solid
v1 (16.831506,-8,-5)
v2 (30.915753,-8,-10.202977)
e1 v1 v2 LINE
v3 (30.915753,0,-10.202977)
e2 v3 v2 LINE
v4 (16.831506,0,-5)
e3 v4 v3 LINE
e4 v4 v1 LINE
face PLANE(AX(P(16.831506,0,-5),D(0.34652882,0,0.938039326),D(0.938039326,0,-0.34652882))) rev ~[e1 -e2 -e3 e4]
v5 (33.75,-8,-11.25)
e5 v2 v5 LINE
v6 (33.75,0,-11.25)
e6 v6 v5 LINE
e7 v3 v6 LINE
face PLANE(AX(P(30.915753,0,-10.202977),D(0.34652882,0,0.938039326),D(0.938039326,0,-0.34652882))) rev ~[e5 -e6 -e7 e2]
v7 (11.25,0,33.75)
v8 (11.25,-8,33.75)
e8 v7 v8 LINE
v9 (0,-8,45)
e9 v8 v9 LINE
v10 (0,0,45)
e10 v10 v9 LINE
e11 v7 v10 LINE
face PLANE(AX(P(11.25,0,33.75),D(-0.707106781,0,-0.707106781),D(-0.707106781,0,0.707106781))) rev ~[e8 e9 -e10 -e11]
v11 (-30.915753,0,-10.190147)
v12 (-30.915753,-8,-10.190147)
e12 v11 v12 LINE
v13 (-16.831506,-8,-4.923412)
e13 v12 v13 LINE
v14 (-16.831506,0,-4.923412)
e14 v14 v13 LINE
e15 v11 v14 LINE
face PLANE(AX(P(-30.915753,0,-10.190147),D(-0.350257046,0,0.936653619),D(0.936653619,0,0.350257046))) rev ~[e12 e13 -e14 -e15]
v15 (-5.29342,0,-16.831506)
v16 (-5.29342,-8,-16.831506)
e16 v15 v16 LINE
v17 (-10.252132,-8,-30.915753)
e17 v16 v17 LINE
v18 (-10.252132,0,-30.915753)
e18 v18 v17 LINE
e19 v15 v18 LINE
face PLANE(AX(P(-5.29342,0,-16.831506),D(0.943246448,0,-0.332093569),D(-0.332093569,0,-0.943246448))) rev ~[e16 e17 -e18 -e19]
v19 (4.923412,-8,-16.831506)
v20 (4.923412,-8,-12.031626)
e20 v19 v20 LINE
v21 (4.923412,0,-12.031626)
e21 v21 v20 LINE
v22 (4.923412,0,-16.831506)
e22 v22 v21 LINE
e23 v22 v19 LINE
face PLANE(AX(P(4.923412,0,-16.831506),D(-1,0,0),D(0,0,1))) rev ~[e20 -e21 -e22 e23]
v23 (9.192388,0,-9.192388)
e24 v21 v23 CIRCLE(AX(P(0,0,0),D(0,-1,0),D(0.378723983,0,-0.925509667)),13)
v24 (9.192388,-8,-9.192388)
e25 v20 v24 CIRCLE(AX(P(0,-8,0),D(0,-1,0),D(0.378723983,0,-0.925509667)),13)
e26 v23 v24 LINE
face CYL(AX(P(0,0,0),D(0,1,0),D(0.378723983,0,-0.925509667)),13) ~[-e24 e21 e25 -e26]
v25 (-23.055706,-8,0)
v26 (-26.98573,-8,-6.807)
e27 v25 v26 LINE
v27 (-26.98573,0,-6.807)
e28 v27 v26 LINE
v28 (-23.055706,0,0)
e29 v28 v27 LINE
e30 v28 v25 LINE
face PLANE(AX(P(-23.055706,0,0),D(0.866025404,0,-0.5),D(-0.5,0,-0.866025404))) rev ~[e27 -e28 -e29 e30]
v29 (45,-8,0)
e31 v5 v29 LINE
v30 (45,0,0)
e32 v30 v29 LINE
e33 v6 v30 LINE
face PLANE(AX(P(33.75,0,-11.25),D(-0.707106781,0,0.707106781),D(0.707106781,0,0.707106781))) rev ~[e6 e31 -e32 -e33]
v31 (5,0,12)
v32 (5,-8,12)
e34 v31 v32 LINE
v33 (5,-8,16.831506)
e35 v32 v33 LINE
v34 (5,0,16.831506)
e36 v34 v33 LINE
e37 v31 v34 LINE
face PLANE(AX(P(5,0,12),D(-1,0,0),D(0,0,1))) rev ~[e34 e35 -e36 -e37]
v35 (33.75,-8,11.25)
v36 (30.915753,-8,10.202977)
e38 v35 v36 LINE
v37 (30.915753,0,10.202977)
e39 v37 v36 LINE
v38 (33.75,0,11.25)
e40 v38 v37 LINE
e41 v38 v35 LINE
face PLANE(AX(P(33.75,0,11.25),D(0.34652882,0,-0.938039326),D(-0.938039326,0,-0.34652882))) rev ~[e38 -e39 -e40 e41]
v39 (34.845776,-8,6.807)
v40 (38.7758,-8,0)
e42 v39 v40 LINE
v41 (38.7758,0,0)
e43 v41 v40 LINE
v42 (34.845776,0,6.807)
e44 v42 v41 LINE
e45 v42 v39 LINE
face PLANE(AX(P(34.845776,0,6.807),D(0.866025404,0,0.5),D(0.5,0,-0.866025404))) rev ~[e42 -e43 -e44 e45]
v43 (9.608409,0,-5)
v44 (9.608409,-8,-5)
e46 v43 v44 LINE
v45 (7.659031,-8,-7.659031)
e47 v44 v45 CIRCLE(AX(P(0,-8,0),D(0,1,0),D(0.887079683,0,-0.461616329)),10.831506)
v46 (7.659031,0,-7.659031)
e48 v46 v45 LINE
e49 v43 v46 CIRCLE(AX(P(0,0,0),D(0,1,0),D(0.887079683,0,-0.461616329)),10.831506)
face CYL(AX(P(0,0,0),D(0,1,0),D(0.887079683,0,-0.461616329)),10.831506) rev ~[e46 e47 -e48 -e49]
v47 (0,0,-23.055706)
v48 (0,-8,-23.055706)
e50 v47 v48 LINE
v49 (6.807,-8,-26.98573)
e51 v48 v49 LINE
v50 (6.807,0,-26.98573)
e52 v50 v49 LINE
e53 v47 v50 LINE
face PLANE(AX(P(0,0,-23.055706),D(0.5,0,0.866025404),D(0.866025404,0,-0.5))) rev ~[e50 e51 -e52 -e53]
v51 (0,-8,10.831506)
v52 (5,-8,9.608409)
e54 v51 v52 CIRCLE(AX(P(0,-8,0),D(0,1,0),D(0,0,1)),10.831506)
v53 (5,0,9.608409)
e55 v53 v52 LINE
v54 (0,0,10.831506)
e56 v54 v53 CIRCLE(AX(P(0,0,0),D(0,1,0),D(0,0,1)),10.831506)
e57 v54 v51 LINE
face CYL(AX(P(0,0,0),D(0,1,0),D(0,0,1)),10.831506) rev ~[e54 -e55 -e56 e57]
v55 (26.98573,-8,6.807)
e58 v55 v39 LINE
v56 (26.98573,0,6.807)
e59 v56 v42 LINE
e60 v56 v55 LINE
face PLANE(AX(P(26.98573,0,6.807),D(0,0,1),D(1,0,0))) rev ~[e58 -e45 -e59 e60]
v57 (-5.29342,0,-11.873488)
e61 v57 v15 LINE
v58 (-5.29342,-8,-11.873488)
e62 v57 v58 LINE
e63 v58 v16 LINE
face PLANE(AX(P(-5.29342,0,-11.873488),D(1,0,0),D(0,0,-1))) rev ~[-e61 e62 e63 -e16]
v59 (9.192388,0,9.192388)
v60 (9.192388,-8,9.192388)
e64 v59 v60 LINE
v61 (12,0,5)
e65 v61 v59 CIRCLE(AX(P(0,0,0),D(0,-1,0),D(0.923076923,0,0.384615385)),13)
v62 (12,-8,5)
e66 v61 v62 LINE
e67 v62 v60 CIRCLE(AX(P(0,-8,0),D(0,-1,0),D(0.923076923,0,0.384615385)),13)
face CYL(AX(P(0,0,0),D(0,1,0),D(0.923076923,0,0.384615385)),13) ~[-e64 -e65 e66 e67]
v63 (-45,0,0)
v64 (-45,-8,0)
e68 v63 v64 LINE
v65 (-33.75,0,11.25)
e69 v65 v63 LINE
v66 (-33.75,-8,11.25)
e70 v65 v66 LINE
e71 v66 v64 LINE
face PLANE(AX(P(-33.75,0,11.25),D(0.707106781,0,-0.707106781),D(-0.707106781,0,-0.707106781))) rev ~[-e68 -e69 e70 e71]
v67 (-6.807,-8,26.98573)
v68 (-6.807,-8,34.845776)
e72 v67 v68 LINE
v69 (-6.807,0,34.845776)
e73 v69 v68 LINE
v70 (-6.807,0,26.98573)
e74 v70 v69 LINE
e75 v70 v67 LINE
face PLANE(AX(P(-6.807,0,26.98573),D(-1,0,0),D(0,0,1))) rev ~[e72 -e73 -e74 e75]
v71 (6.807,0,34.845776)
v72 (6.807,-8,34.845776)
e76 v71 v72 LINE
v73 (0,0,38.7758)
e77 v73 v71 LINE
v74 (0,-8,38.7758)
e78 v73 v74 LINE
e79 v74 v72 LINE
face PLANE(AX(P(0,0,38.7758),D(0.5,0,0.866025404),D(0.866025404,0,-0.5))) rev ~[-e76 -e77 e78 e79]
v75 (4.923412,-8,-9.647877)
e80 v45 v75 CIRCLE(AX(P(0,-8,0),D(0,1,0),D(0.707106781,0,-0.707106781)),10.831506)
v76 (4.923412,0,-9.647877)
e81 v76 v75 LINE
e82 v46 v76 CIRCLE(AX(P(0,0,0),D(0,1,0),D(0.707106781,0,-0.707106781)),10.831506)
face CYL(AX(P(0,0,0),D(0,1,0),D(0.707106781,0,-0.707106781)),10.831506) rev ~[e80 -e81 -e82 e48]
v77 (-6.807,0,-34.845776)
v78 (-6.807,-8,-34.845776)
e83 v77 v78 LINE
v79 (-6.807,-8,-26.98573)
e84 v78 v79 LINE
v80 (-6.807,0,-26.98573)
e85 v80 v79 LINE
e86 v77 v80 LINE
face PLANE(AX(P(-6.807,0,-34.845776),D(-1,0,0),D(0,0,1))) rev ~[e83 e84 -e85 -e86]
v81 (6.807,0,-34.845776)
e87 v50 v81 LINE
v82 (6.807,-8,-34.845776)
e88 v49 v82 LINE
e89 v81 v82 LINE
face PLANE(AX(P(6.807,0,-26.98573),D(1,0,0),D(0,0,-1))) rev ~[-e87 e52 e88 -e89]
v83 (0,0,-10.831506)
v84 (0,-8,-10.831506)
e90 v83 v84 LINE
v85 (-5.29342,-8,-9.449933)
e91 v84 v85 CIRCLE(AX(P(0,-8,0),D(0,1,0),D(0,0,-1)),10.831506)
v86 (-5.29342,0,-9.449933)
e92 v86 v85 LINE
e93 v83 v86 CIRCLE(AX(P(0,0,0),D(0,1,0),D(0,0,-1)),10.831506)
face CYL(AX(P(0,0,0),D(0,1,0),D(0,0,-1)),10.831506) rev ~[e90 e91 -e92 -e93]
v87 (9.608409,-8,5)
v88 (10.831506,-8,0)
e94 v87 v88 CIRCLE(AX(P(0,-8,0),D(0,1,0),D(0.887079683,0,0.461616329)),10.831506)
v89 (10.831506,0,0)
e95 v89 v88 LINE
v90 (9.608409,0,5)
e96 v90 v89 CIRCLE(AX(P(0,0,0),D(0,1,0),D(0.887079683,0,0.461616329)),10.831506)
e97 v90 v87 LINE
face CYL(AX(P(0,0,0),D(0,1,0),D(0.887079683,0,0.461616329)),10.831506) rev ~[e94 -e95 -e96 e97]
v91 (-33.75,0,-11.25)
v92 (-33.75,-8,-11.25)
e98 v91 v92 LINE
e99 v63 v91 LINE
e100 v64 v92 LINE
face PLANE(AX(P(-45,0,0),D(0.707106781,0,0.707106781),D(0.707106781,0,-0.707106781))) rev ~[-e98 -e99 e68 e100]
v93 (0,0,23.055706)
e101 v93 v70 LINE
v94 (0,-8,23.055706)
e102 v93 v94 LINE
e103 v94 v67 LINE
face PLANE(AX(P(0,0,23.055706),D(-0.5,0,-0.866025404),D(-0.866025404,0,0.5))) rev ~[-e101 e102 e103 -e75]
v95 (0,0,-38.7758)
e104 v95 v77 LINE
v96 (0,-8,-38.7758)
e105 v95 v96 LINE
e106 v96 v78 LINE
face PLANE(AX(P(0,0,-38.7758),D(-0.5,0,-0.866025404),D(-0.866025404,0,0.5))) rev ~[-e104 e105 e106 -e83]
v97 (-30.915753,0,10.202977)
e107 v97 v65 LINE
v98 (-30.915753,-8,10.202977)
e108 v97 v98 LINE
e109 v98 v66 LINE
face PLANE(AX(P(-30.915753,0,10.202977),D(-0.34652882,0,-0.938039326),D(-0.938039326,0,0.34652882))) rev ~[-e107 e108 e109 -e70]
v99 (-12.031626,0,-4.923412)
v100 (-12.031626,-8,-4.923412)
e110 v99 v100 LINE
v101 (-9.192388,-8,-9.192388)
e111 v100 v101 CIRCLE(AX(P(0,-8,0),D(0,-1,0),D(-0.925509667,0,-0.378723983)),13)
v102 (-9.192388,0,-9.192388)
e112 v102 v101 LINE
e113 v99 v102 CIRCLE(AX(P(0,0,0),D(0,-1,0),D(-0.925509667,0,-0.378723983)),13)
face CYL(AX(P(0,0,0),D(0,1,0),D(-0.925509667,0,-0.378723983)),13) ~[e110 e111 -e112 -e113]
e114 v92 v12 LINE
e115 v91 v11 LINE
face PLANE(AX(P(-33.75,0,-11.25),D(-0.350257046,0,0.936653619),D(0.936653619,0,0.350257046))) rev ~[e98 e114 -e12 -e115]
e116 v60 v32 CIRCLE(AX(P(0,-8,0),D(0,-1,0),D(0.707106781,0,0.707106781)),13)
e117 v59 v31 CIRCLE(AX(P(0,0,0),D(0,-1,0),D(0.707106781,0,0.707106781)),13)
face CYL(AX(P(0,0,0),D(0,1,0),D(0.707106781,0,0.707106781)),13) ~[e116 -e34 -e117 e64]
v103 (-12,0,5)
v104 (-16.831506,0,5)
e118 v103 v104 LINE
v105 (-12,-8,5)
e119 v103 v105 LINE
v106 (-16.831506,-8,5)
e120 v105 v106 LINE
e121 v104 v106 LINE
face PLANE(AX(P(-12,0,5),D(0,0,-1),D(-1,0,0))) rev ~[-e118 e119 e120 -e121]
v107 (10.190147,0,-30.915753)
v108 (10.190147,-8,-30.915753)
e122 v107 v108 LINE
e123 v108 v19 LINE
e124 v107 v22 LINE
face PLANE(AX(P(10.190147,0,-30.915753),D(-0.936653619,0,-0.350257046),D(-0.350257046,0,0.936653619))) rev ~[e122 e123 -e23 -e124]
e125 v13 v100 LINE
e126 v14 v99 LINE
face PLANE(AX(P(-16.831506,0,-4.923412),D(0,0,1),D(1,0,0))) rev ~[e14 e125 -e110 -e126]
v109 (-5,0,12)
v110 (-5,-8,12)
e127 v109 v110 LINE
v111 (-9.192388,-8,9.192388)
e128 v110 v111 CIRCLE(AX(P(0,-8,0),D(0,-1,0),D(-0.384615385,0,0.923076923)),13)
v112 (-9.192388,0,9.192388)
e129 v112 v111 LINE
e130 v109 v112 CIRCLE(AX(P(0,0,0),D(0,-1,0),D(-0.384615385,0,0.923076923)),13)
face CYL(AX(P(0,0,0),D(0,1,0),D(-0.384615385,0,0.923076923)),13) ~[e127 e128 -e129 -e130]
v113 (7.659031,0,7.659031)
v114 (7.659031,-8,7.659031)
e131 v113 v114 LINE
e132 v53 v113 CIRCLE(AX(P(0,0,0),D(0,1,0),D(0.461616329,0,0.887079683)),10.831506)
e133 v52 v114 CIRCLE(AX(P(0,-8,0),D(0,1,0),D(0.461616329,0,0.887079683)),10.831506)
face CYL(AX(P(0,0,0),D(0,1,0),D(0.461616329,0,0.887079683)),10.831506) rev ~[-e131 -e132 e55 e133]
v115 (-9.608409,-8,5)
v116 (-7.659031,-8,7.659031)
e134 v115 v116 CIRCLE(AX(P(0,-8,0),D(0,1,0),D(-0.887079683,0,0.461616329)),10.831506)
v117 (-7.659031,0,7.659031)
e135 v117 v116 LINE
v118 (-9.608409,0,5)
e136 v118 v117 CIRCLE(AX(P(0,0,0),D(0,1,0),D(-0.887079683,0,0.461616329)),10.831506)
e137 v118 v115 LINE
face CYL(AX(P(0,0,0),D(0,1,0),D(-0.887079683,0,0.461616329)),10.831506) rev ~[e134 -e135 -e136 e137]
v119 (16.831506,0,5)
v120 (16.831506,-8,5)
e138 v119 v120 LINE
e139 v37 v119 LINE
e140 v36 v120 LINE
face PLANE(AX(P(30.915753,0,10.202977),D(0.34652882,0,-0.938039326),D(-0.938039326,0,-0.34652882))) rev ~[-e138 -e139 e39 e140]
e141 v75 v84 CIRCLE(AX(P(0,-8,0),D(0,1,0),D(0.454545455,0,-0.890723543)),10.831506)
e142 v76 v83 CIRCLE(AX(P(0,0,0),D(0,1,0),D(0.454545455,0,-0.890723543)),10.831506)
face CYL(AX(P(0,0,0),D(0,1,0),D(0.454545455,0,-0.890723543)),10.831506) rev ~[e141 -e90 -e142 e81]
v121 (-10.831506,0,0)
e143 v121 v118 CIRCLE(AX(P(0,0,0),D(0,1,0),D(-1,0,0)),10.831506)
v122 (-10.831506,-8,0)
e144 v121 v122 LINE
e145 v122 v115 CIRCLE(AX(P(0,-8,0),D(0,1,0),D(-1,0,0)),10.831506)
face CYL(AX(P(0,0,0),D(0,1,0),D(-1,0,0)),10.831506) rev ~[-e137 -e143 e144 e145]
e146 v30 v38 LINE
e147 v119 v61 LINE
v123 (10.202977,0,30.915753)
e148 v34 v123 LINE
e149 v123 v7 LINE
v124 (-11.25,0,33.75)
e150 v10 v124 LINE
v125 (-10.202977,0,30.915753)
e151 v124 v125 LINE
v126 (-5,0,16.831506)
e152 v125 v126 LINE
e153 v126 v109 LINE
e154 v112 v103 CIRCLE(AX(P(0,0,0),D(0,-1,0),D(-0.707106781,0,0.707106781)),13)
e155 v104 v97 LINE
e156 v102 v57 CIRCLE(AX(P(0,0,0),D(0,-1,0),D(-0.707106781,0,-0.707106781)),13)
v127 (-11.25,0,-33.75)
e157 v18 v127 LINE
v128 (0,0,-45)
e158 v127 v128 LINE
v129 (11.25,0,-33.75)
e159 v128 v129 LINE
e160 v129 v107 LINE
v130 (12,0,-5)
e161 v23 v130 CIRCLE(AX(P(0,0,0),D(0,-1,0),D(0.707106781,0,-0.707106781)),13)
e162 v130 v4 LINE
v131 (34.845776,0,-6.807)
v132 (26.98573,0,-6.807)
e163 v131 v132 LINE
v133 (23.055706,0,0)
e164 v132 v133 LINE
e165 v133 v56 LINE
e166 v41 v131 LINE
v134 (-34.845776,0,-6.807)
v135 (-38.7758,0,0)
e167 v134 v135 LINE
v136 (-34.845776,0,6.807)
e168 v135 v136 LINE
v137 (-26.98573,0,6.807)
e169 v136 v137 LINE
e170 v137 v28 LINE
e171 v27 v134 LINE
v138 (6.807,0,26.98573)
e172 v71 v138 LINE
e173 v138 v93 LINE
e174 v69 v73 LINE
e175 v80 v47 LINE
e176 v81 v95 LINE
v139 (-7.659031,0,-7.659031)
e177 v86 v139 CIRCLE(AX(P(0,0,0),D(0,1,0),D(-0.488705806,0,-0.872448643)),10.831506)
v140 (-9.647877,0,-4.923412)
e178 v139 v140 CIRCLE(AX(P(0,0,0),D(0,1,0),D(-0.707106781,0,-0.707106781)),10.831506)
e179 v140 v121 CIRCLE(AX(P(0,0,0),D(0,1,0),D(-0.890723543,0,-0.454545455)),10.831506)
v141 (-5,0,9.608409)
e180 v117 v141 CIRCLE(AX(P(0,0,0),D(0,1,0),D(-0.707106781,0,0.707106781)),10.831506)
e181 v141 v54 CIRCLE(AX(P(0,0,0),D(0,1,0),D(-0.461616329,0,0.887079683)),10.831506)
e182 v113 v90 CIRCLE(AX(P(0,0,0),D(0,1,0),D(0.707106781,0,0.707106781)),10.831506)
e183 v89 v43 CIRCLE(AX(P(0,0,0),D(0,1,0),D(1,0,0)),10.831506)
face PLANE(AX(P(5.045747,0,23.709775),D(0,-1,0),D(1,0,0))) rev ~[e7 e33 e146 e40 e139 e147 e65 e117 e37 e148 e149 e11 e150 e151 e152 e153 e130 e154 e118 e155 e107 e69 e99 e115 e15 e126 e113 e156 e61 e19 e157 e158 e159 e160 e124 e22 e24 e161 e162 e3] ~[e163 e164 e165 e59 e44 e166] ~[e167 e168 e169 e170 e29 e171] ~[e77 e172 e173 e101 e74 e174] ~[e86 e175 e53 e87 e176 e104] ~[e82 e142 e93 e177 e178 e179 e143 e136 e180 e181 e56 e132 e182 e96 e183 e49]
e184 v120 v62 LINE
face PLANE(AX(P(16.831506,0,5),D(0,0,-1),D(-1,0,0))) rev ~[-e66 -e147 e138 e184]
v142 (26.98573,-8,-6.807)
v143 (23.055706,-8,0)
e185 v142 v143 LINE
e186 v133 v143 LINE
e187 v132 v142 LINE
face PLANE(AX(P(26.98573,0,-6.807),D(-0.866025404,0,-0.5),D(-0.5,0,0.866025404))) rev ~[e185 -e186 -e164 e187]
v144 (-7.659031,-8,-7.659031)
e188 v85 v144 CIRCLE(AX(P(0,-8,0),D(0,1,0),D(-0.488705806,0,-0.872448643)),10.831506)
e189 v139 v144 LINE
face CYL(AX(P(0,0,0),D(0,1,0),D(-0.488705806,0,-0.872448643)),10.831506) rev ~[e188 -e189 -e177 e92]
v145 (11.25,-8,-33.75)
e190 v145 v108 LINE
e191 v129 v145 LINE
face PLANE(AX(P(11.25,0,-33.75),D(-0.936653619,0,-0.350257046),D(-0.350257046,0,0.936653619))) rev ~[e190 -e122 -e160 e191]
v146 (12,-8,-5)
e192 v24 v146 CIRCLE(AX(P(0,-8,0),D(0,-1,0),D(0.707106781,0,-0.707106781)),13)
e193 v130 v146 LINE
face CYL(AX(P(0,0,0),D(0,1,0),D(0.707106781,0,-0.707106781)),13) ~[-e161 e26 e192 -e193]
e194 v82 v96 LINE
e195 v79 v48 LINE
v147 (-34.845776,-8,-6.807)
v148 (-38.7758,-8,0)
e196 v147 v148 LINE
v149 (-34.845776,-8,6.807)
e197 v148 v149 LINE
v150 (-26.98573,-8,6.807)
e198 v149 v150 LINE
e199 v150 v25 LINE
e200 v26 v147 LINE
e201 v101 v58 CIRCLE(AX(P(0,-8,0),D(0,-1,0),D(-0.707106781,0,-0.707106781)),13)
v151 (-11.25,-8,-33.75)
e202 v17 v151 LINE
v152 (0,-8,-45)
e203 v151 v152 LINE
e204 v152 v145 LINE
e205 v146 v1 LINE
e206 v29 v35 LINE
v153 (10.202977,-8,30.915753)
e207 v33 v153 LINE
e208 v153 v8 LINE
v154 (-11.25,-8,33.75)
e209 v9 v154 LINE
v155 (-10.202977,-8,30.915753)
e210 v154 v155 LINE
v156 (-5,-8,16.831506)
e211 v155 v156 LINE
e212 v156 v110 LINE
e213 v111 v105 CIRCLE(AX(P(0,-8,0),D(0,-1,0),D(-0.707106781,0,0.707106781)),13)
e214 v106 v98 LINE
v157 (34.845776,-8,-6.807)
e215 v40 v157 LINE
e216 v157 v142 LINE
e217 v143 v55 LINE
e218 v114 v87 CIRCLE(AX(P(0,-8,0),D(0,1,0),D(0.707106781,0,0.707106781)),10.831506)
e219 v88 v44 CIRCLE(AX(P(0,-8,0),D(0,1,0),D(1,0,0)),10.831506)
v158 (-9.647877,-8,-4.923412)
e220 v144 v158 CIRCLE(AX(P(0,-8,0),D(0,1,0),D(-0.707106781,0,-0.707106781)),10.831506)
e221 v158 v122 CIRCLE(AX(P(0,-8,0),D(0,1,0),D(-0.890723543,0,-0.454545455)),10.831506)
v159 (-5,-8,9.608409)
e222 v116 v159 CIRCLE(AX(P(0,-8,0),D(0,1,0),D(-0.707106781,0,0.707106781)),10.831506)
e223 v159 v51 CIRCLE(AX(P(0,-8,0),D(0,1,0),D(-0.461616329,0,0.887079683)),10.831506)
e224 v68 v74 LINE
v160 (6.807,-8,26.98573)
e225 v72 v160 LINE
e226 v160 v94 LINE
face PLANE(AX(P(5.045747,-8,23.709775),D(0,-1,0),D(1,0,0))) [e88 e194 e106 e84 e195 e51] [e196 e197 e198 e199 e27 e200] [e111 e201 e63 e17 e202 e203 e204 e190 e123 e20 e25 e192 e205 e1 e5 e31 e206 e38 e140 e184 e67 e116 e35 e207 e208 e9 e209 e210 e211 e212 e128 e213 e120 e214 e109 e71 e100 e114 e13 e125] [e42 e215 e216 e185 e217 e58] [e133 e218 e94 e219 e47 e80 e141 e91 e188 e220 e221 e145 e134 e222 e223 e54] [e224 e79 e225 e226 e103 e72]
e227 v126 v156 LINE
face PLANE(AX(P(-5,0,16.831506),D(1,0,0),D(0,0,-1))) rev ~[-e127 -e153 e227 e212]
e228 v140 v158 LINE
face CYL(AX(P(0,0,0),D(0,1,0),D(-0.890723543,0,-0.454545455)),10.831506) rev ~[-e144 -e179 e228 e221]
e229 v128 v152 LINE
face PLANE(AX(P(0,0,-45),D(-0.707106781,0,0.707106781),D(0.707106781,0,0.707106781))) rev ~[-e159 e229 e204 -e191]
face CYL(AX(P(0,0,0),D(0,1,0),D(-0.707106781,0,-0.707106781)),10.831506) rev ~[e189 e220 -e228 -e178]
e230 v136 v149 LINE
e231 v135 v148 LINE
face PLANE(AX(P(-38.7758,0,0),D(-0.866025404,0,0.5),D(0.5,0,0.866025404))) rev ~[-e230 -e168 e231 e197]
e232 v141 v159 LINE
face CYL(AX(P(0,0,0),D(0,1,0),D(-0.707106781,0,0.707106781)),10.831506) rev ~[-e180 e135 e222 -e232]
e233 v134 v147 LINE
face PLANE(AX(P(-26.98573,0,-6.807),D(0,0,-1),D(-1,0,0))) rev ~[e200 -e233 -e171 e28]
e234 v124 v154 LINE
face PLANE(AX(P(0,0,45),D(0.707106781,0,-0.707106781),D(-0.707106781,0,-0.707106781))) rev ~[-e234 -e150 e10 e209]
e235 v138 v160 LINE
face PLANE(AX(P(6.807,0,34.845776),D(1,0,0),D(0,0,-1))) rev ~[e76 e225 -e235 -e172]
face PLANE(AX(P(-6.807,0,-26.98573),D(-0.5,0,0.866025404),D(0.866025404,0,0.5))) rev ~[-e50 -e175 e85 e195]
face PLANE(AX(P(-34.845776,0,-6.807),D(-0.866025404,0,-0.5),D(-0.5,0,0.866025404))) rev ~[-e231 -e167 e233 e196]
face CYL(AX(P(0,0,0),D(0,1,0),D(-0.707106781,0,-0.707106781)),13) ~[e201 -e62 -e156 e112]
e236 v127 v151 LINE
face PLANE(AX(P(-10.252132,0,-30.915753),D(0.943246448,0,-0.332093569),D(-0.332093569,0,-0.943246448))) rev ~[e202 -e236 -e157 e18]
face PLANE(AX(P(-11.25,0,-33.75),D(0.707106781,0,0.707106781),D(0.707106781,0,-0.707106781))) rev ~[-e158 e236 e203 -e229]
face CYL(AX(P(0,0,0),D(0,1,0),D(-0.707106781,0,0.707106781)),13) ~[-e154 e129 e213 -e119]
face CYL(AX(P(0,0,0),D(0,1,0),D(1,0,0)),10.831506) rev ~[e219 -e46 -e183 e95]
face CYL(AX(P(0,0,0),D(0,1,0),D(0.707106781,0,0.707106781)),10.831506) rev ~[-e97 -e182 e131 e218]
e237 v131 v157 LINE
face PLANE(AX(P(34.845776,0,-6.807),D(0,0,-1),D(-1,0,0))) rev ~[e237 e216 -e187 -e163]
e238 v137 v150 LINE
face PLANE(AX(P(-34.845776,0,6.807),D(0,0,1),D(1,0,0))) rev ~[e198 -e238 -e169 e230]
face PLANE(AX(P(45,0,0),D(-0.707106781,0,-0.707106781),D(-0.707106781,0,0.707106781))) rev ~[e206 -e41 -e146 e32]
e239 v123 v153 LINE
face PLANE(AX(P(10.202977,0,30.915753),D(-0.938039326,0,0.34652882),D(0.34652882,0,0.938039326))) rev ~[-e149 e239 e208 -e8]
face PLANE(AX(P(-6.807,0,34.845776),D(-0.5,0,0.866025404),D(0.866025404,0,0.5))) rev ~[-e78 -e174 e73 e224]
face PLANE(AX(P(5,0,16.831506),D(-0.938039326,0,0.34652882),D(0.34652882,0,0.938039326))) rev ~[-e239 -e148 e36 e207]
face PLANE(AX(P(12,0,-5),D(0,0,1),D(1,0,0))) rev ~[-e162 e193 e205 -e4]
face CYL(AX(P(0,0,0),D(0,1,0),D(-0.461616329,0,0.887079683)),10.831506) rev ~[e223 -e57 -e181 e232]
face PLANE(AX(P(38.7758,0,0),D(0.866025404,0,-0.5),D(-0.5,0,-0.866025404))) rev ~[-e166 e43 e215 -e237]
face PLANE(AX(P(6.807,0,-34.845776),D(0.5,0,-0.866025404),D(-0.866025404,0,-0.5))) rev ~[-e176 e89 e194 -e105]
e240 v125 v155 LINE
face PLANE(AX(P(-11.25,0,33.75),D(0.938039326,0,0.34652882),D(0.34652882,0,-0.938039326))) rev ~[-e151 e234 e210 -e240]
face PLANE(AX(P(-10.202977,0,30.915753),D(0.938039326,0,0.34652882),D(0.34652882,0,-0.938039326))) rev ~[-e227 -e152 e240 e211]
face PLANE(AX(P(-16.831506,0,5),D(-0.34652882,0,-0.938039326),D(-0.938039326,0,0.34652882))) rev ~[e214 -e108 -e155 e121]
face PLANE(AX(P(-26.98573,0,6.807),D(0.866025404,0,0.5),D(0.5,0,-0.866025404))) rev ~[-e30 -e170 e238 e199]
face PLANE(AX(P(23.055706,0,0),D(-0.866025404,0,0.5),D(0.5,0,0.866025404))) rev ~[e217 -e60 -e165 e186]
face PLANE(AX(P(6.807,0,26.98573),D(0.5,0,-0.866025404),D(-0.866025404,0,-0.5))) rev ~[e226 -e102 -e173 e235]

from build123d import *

# Parameters (mm, degrees)
F1_DEPTH = 8


with BuildPart() as f1:
    # F0 (on Front) → F1 (new body)
    with BuildSketch(Plane.XZ):
        Polygon((0, 23.0557063947), (0, 16.8315059189), (5, 16.8315059189), (10.202977498, 30.9157529595), (6.807, 30.9157529595), (6.807, 26.9857296771), align=None)
        Polygon((10.202977498, 30.9157529595), (11.25, 33.75), (0, 45), (0, 38.7757995242), (6.807, 34.8457762418), (6.807, 30.9157529595), align=None)
        Polygon((-5, 16.8315059189), (0, 16.8315059189), (0, 23.0557063947), (-6.807, 26.9857296771), (-6.807, 30.9157529595), (-10.202977498, 30.9157529595), align=None)
        Polygon((0, 45), (-11.25, 33.75), (-10.202977498, 30.9157529595), (-6.807, 30.9157529595), (-6.807, 34.8457762418), (0, 38.7757995242), align=None)
        Polygon((4.9234117813, -16.8315059189), (0, -16.8315059189), (0, -23.0557063947), (6.807, -26.9857296771), (6.807, -30.9157529595), (10.1901471638, -30.9157529595), align=None)
        Polygon((0, -45), (11.25, -33.75), (10.1901471638, -30.9157529595), (6.807, -30.9157529595), (6.807, -34.8457762418), (0, -38.7757995242), align=None)
        Polygon((0, -23.0557063947), (0, -16.8315059189), (-5.2934198313, -16.8315059189), (-10.2521322445, -30.9157529595), (-6.807, -30.9157529595), (-6.807, -26.9857296771), align=None)
        Polygon((-10.2521322445, -30.9157529595), (-11.25, -33.75), (0, -45), (0, -38.7757995242), (-6.807, -34.8457762418), (-6.807, -30.9157529595), align=None)
        Polygon((23.0557063947, 0), (16.8315059189, 0), (16.8315059189, -5), (30.9157529595, -10.202977498), (30.9157529595, -6.807), (26.9857296771, -6.807), align=None)
        Polygon((30.9157529595, -6.807), (30.9157529595, -10.202977498), (33.75, -11.25), (45, 0), (38.7757995242, 0), (34.8457762418, -6.807), align=None)
        Polygon((16.8315059189, 5), (16.8315059189, 0), (23.0557063947, 0), (26.9857296771, 6.807), (30.9157529595, 6.807), (30.9157529595, 10.202977498), align=None)
        Polygon((33.75, 11.25), (30.9157529595, 10.202977498), (30.9157529595, 6.807), (34.8457762418, 6.807), (38.7757995242, 0), (45, 0), align=None)
        Polygon((-23.0557063947, 0), (-16.8315059189, 0), (-16.8315059189, 5), (-30.9157529595, 10.202977498), (-30.9157529595, 6.807), (-26.9857296771, 6.807), align=None)
        Polygon((-30.9157529595, 10.202977498), (-33.75, 11.25), (-45, 0), (-38.7757995242, 0), (-34.8457762418, 6.807), (-30.9157529595, 6.807), align=None)
        Polygon((-16.8315059189, -4.9234117813), (-16.8315059189, 0), (-23.0557063947, 0), (-26.9857296771, -6.807), (-30.9157529595, -6.807), (-30.9157529595, -10.1901471638), align=None)
        Polygon((-45, 0), (-33.75, -11.25), (-30.9157529595, -10.1901471638), (-30.9157529595, -6.807), (-34.8457762418, -6.807), (-38.7757995242, 0), align=None)
        with BuildLine():
            Line((0, -16.8315059189), (0, -13))
            ThreePointArc((0, -13), (-2.7059805904, -12.7152534007), (-5.2934198313, -11.8734875453))
            Line((-5.2934198313, -11.8734875453), (-5.2934198313, -16.8315059189))
            Line((-5.2934198313, -16.8315059189), (0, -16.8315059189))
        make_face()
        with BuildLine():
            ThreePointArc((4.9234117813, -12.031625677), (2.5088708814, -12.7556092328), (0, -13))
            Line((0, -13), (0, -16.8315059189))
            Line((0, -16.8315059189), (4.9234117813, -16.8315059189))
            Line((4.9234117813, -16.8315059189), (4.9234117813, -12.031625677))
        make_face()
        with BuildLine():
            ThreePointArc((4.9234117813, -9.6478773263), (2.5318451875, -10.5314424662), (0, -10.8315059189))
            Line((0, -10.8315059189), (0, -13))
            ThreePointArc((0, -13), (2.5088708814, -12.7556092328), (4.9234117813, -12.031625677))
            Line((4.9234117813, -12.031625677), (4.9234117813, -9.6478773263))
        make_face()
        with BuildLine():
            Line((0, -13), (0, -10.8315059189))
            ThreePointArc((0, -10.8315059189), (-2.7353719229, -10.4804227451), (-5.2934198313, -9.4499326432))
            Line((-5.2934198313, -9.4499326432), (-5.2934198313, -11.8734875453))
            ThreePointArc((-5.2934198313, -11.8734875453), (-2.7059805904, -12.7152534007), (0, -13))
        make_face()
        with BuildLine():
            ThreePointArc((-5.2934198313, -9.4499326432), (-6.5378382821, -8.63586655), (-7.6590312857, -7.6590312857))
            Line((-7.6590312857, -7.6590312857), (-9.1923881554, -9.1923881554))
            ThreePointArc((-9.1923881554, -9.1923881554), (-7.3659168976, -10.7118284274), (-5.2934198313, -11.8734875453))
            Line((-5.2934198313, -11.8734875453), (-5.2934198313, -9.4499326432))
        make_face()
        with BuildLine():
            Line((-9.1923881554, -9.1923881554), (-7.6590312857, -7.6590312857))
            ThreePointArc((-7.6590312857, -7.6590312857), (-8.7608889358, -6.3693284989), (-9.6478773263, -4.9234117813))
            Line((-9.6478773263, -4.9234117813), (-12.031625677, -4.9234117813))
            ThreePointArc((-12.031625677, -4.9234117813), (-10.8245429747, -7.1992547802), (-9.1923881554, -9.1923881554))
        make_face()
        with BuildLine():
            ThreePointArc((-9.6478773263, -4.9234117813), (-10.5314424662, -2.5318451875), (-10.8315059189, 0))
            Line((-10.8315059189, 0), (-13, 0))
            ThreePointArc((-13, 0), (-12.7556092328, -2.5088708814), (-12.031625677, -4.9234117813))
            Line((-12.031625677, -4.9234117813), (-9.6478773263, -4.9234117813))
        make_face()
        with BuildLine():
            ThreePointArc((-12.031625677, -4.9234117813), (-12.7556092328, -2.5088708814), (-13, 0))
            Line((-13, 0), (-16.8315059189, 0))
            Line((-16.8315059189, 0), (-16.8315059189, -4.9234117813))
            Line((-16.8315059189, -4.9234117813), (-12.031625677, -4.9234117813))
        make_face()
        with BuildLine():
            Line((-16.8315059189, 0), (-13, 0))
            ThreePointArc((-13, 0), (-12.747548784, 2.5495097568), (-12, 5))
            Line((-12, 5), (-16.8315059189, 5))
            Line((-16.8315059189, 5), (-16.8315059189, 0))
        make_face()
        with BuildLine():
            Line((-13, 0), (-10.8315059189, 0))
            ThreePointArc((-10.8315059189, 0), (-10.5212893153, 2.5737116418), (-9.6084088418, 5))
            Line((-9.6084088418, 5), (-12, 5))
            ThreePointArc((-12, 5), (-12.747548784, 2.5495097568), (-13, 0))
        make_face()
        with BuildLine():
            ThreePointArc((-9.6084088418, 5), (-8.7354870491, 6.4041226165), (-7.6590312857, 7.6590312857))
            Line((-7.6590312857, 7.6590312857), (-9.1923881554, 9.1923881554))
            ThreePointArc((-9.1923881554, 9.1923881554), (-10.8015442666, 7.2337156051), (-12, 5))
            Line((-12, 5), (-9.6084088418, 5))
        make_face()
        with BuildLine():
            Line((-9.1923881554, 9.1923881554), (-7.6590312857, 7.6590312857))
            ThreePointArc((-7.6590312857, 7.6590312857), (-6.4041226165, 8.7354870491), (-5, 9.6084088418))
            Line((-5, 9.6084088418), (-5, 12))
            ThreePointArc((-5, 12), (-7.2337156051, 10.8015442666), (-9.1923881554, 9.1923881554))
        make_face()
        with BuildLine():
            Line((0, 16.8315059189), (0, 13))
            ThreePointArc((0, 13), (2.5495097568, 12.747548784), (5, 12))
            Line((5, 12), (5, 16.8315059189))
            Line((5, 16.8315059189), (0, 16.8315059189))
        make_face()
        with BuildLine():
            ThreePointArc((-5, 9.6084088418), (-2.5737116418, 10.5212893153), (0, 10.8315059189))
            Line((0, 10.8315059189), (0, 13))
            ThreePointArc((0, 13), (-2.5495097568, 12.747548784), (-5, 12))
            Line((-5, 12), (-5, 9.6084088418))
        make_face()
        with BuildLine():
            Line((0, 13), (0, 10.8315059189))
            ThreePointArc((0, 10.8315059189), (2.5737116418, 10.5212893153), (5, 9.6084088418))
            Line((5, 9.6084088418), (5, 12))
            ThreePointArc((5, 12), (2.5495097568, 12.747548784), (0, 13))
        make_face()
        with BuildLine():
            ThreePointArc((5, 9.6084088418), (6.4041226165, 8.7354870491), (7.6590312857, 7.6590312857))
            Line((7.6590312857, 7.6590312857), (9.1923881554, 9.1923881554))
            ThreePointArc((9.1923881554, 9.1923881554), (7.2337156051, 10.8015442666), (5, 12))
            Line((5, 12), (5, 9.6084088418))
        make_face()
        with BuildLine():
            ThreePointArc((7.6590312857, 7.6590312857), (8.7354870491, 6.4041226165), (9.6084088418, 5))
            Line((9.6084088418, 5), (12, 5))
            ThreePointArc((12, 5), (10.8015442666, 7.2337156051), (9.1923881554, 9.1923881554))
            Line((9.1923881554, 9.1923881554), (7.6590312857, 7.6590312857))
        make_face()
        with BuildLine():
            ThreePointArc((9.6084088418, 5), (10.5212893153, 2.5737116418), (10.8315059189, 0))
            Line((10.8315059189, 0), (13, 0))
            ThreePointArc((13, 0), (12.747548784, 2.5495097568), (12, 5))
            Line((12, 5), (9.6084088418, 5))
        make_face()
        with BuildLine():
            Line((9.1923881554, -9.1923881554), (7.6590312857, -7.6590312857))
            ThreePointArc((7.6590312857, -7.6590312857), (6.3693284989, -8.7608889358), (4.9234117813, -9.6478773263))
            Line((4.9234117813, -9.6478773263), (4.9234117813, -12.031625677))
            ThreePointArc((4.9234117813, -12.031625677), (7.1992547802, -10.8245429747), (9.1923881554, -9.1923881554))
        make_face()
        with BuildLine():
            ThreePointArc((12, 5), (12.747548784, 2.5495097568), (13, 0))
            Line((13, 0), (16.8315059189, 0))
            Line((16.8315059189, 0), (16.8315059189, 5))
            Line((16.8315059189, 5), (12, 5))
        make_face()
        with BuildLine():
            ThreePointArc((-5, 12), (-2.5495097568, 12.747548784), (0, 13))
            Line((0, 13), (0, 16.8315059189))
            Line((0, 16.8315059189), (-5, 16.8315059189))
            Line((-5, 16.8315059189), (-5, 12))
        make_face()
        with BuildLine():
            Line((16.8315059189, 0), (13, 0))
            ThreePointArc((13, 0), (12.747548784, -2.5495097568), (12, -5))
            Line((12, -5), (16.8315059189, -5))
            Line((16.8315059189, -5), (16.8315059189, 0))
        make_face()
        with BuildLine():
            Line((13, 0), (10.8315059189, 0))
            ThreePointArc((10.8315059189, 0), (10.5212893153, -2.5737116418), (9.6084088418, -5))
            Line((9.6084088418, -5), (12, -5))
            ThreePointArc((12, -5), (12.747548784, -2.5495097568), (13, 0))
        make_face()
        with BuildLine():
            Line((12, -5), (9.6084088418, -5))
            ThreePointArc((9.6084088418, -5), (8.7354870491, -6.4041226165), (7.6590312857, -7.6590312857))
            Line((7.6590312857, -7.6590312857), (9.1923881554, -9.1923881554))
            ThreePointArc((9.1923881554, -9.1923881554), (10.8015442666, -7.2337156051), (12, -5))
        make_face()
    extrude(amount=F1_DEPTH)


solid = f1.part
